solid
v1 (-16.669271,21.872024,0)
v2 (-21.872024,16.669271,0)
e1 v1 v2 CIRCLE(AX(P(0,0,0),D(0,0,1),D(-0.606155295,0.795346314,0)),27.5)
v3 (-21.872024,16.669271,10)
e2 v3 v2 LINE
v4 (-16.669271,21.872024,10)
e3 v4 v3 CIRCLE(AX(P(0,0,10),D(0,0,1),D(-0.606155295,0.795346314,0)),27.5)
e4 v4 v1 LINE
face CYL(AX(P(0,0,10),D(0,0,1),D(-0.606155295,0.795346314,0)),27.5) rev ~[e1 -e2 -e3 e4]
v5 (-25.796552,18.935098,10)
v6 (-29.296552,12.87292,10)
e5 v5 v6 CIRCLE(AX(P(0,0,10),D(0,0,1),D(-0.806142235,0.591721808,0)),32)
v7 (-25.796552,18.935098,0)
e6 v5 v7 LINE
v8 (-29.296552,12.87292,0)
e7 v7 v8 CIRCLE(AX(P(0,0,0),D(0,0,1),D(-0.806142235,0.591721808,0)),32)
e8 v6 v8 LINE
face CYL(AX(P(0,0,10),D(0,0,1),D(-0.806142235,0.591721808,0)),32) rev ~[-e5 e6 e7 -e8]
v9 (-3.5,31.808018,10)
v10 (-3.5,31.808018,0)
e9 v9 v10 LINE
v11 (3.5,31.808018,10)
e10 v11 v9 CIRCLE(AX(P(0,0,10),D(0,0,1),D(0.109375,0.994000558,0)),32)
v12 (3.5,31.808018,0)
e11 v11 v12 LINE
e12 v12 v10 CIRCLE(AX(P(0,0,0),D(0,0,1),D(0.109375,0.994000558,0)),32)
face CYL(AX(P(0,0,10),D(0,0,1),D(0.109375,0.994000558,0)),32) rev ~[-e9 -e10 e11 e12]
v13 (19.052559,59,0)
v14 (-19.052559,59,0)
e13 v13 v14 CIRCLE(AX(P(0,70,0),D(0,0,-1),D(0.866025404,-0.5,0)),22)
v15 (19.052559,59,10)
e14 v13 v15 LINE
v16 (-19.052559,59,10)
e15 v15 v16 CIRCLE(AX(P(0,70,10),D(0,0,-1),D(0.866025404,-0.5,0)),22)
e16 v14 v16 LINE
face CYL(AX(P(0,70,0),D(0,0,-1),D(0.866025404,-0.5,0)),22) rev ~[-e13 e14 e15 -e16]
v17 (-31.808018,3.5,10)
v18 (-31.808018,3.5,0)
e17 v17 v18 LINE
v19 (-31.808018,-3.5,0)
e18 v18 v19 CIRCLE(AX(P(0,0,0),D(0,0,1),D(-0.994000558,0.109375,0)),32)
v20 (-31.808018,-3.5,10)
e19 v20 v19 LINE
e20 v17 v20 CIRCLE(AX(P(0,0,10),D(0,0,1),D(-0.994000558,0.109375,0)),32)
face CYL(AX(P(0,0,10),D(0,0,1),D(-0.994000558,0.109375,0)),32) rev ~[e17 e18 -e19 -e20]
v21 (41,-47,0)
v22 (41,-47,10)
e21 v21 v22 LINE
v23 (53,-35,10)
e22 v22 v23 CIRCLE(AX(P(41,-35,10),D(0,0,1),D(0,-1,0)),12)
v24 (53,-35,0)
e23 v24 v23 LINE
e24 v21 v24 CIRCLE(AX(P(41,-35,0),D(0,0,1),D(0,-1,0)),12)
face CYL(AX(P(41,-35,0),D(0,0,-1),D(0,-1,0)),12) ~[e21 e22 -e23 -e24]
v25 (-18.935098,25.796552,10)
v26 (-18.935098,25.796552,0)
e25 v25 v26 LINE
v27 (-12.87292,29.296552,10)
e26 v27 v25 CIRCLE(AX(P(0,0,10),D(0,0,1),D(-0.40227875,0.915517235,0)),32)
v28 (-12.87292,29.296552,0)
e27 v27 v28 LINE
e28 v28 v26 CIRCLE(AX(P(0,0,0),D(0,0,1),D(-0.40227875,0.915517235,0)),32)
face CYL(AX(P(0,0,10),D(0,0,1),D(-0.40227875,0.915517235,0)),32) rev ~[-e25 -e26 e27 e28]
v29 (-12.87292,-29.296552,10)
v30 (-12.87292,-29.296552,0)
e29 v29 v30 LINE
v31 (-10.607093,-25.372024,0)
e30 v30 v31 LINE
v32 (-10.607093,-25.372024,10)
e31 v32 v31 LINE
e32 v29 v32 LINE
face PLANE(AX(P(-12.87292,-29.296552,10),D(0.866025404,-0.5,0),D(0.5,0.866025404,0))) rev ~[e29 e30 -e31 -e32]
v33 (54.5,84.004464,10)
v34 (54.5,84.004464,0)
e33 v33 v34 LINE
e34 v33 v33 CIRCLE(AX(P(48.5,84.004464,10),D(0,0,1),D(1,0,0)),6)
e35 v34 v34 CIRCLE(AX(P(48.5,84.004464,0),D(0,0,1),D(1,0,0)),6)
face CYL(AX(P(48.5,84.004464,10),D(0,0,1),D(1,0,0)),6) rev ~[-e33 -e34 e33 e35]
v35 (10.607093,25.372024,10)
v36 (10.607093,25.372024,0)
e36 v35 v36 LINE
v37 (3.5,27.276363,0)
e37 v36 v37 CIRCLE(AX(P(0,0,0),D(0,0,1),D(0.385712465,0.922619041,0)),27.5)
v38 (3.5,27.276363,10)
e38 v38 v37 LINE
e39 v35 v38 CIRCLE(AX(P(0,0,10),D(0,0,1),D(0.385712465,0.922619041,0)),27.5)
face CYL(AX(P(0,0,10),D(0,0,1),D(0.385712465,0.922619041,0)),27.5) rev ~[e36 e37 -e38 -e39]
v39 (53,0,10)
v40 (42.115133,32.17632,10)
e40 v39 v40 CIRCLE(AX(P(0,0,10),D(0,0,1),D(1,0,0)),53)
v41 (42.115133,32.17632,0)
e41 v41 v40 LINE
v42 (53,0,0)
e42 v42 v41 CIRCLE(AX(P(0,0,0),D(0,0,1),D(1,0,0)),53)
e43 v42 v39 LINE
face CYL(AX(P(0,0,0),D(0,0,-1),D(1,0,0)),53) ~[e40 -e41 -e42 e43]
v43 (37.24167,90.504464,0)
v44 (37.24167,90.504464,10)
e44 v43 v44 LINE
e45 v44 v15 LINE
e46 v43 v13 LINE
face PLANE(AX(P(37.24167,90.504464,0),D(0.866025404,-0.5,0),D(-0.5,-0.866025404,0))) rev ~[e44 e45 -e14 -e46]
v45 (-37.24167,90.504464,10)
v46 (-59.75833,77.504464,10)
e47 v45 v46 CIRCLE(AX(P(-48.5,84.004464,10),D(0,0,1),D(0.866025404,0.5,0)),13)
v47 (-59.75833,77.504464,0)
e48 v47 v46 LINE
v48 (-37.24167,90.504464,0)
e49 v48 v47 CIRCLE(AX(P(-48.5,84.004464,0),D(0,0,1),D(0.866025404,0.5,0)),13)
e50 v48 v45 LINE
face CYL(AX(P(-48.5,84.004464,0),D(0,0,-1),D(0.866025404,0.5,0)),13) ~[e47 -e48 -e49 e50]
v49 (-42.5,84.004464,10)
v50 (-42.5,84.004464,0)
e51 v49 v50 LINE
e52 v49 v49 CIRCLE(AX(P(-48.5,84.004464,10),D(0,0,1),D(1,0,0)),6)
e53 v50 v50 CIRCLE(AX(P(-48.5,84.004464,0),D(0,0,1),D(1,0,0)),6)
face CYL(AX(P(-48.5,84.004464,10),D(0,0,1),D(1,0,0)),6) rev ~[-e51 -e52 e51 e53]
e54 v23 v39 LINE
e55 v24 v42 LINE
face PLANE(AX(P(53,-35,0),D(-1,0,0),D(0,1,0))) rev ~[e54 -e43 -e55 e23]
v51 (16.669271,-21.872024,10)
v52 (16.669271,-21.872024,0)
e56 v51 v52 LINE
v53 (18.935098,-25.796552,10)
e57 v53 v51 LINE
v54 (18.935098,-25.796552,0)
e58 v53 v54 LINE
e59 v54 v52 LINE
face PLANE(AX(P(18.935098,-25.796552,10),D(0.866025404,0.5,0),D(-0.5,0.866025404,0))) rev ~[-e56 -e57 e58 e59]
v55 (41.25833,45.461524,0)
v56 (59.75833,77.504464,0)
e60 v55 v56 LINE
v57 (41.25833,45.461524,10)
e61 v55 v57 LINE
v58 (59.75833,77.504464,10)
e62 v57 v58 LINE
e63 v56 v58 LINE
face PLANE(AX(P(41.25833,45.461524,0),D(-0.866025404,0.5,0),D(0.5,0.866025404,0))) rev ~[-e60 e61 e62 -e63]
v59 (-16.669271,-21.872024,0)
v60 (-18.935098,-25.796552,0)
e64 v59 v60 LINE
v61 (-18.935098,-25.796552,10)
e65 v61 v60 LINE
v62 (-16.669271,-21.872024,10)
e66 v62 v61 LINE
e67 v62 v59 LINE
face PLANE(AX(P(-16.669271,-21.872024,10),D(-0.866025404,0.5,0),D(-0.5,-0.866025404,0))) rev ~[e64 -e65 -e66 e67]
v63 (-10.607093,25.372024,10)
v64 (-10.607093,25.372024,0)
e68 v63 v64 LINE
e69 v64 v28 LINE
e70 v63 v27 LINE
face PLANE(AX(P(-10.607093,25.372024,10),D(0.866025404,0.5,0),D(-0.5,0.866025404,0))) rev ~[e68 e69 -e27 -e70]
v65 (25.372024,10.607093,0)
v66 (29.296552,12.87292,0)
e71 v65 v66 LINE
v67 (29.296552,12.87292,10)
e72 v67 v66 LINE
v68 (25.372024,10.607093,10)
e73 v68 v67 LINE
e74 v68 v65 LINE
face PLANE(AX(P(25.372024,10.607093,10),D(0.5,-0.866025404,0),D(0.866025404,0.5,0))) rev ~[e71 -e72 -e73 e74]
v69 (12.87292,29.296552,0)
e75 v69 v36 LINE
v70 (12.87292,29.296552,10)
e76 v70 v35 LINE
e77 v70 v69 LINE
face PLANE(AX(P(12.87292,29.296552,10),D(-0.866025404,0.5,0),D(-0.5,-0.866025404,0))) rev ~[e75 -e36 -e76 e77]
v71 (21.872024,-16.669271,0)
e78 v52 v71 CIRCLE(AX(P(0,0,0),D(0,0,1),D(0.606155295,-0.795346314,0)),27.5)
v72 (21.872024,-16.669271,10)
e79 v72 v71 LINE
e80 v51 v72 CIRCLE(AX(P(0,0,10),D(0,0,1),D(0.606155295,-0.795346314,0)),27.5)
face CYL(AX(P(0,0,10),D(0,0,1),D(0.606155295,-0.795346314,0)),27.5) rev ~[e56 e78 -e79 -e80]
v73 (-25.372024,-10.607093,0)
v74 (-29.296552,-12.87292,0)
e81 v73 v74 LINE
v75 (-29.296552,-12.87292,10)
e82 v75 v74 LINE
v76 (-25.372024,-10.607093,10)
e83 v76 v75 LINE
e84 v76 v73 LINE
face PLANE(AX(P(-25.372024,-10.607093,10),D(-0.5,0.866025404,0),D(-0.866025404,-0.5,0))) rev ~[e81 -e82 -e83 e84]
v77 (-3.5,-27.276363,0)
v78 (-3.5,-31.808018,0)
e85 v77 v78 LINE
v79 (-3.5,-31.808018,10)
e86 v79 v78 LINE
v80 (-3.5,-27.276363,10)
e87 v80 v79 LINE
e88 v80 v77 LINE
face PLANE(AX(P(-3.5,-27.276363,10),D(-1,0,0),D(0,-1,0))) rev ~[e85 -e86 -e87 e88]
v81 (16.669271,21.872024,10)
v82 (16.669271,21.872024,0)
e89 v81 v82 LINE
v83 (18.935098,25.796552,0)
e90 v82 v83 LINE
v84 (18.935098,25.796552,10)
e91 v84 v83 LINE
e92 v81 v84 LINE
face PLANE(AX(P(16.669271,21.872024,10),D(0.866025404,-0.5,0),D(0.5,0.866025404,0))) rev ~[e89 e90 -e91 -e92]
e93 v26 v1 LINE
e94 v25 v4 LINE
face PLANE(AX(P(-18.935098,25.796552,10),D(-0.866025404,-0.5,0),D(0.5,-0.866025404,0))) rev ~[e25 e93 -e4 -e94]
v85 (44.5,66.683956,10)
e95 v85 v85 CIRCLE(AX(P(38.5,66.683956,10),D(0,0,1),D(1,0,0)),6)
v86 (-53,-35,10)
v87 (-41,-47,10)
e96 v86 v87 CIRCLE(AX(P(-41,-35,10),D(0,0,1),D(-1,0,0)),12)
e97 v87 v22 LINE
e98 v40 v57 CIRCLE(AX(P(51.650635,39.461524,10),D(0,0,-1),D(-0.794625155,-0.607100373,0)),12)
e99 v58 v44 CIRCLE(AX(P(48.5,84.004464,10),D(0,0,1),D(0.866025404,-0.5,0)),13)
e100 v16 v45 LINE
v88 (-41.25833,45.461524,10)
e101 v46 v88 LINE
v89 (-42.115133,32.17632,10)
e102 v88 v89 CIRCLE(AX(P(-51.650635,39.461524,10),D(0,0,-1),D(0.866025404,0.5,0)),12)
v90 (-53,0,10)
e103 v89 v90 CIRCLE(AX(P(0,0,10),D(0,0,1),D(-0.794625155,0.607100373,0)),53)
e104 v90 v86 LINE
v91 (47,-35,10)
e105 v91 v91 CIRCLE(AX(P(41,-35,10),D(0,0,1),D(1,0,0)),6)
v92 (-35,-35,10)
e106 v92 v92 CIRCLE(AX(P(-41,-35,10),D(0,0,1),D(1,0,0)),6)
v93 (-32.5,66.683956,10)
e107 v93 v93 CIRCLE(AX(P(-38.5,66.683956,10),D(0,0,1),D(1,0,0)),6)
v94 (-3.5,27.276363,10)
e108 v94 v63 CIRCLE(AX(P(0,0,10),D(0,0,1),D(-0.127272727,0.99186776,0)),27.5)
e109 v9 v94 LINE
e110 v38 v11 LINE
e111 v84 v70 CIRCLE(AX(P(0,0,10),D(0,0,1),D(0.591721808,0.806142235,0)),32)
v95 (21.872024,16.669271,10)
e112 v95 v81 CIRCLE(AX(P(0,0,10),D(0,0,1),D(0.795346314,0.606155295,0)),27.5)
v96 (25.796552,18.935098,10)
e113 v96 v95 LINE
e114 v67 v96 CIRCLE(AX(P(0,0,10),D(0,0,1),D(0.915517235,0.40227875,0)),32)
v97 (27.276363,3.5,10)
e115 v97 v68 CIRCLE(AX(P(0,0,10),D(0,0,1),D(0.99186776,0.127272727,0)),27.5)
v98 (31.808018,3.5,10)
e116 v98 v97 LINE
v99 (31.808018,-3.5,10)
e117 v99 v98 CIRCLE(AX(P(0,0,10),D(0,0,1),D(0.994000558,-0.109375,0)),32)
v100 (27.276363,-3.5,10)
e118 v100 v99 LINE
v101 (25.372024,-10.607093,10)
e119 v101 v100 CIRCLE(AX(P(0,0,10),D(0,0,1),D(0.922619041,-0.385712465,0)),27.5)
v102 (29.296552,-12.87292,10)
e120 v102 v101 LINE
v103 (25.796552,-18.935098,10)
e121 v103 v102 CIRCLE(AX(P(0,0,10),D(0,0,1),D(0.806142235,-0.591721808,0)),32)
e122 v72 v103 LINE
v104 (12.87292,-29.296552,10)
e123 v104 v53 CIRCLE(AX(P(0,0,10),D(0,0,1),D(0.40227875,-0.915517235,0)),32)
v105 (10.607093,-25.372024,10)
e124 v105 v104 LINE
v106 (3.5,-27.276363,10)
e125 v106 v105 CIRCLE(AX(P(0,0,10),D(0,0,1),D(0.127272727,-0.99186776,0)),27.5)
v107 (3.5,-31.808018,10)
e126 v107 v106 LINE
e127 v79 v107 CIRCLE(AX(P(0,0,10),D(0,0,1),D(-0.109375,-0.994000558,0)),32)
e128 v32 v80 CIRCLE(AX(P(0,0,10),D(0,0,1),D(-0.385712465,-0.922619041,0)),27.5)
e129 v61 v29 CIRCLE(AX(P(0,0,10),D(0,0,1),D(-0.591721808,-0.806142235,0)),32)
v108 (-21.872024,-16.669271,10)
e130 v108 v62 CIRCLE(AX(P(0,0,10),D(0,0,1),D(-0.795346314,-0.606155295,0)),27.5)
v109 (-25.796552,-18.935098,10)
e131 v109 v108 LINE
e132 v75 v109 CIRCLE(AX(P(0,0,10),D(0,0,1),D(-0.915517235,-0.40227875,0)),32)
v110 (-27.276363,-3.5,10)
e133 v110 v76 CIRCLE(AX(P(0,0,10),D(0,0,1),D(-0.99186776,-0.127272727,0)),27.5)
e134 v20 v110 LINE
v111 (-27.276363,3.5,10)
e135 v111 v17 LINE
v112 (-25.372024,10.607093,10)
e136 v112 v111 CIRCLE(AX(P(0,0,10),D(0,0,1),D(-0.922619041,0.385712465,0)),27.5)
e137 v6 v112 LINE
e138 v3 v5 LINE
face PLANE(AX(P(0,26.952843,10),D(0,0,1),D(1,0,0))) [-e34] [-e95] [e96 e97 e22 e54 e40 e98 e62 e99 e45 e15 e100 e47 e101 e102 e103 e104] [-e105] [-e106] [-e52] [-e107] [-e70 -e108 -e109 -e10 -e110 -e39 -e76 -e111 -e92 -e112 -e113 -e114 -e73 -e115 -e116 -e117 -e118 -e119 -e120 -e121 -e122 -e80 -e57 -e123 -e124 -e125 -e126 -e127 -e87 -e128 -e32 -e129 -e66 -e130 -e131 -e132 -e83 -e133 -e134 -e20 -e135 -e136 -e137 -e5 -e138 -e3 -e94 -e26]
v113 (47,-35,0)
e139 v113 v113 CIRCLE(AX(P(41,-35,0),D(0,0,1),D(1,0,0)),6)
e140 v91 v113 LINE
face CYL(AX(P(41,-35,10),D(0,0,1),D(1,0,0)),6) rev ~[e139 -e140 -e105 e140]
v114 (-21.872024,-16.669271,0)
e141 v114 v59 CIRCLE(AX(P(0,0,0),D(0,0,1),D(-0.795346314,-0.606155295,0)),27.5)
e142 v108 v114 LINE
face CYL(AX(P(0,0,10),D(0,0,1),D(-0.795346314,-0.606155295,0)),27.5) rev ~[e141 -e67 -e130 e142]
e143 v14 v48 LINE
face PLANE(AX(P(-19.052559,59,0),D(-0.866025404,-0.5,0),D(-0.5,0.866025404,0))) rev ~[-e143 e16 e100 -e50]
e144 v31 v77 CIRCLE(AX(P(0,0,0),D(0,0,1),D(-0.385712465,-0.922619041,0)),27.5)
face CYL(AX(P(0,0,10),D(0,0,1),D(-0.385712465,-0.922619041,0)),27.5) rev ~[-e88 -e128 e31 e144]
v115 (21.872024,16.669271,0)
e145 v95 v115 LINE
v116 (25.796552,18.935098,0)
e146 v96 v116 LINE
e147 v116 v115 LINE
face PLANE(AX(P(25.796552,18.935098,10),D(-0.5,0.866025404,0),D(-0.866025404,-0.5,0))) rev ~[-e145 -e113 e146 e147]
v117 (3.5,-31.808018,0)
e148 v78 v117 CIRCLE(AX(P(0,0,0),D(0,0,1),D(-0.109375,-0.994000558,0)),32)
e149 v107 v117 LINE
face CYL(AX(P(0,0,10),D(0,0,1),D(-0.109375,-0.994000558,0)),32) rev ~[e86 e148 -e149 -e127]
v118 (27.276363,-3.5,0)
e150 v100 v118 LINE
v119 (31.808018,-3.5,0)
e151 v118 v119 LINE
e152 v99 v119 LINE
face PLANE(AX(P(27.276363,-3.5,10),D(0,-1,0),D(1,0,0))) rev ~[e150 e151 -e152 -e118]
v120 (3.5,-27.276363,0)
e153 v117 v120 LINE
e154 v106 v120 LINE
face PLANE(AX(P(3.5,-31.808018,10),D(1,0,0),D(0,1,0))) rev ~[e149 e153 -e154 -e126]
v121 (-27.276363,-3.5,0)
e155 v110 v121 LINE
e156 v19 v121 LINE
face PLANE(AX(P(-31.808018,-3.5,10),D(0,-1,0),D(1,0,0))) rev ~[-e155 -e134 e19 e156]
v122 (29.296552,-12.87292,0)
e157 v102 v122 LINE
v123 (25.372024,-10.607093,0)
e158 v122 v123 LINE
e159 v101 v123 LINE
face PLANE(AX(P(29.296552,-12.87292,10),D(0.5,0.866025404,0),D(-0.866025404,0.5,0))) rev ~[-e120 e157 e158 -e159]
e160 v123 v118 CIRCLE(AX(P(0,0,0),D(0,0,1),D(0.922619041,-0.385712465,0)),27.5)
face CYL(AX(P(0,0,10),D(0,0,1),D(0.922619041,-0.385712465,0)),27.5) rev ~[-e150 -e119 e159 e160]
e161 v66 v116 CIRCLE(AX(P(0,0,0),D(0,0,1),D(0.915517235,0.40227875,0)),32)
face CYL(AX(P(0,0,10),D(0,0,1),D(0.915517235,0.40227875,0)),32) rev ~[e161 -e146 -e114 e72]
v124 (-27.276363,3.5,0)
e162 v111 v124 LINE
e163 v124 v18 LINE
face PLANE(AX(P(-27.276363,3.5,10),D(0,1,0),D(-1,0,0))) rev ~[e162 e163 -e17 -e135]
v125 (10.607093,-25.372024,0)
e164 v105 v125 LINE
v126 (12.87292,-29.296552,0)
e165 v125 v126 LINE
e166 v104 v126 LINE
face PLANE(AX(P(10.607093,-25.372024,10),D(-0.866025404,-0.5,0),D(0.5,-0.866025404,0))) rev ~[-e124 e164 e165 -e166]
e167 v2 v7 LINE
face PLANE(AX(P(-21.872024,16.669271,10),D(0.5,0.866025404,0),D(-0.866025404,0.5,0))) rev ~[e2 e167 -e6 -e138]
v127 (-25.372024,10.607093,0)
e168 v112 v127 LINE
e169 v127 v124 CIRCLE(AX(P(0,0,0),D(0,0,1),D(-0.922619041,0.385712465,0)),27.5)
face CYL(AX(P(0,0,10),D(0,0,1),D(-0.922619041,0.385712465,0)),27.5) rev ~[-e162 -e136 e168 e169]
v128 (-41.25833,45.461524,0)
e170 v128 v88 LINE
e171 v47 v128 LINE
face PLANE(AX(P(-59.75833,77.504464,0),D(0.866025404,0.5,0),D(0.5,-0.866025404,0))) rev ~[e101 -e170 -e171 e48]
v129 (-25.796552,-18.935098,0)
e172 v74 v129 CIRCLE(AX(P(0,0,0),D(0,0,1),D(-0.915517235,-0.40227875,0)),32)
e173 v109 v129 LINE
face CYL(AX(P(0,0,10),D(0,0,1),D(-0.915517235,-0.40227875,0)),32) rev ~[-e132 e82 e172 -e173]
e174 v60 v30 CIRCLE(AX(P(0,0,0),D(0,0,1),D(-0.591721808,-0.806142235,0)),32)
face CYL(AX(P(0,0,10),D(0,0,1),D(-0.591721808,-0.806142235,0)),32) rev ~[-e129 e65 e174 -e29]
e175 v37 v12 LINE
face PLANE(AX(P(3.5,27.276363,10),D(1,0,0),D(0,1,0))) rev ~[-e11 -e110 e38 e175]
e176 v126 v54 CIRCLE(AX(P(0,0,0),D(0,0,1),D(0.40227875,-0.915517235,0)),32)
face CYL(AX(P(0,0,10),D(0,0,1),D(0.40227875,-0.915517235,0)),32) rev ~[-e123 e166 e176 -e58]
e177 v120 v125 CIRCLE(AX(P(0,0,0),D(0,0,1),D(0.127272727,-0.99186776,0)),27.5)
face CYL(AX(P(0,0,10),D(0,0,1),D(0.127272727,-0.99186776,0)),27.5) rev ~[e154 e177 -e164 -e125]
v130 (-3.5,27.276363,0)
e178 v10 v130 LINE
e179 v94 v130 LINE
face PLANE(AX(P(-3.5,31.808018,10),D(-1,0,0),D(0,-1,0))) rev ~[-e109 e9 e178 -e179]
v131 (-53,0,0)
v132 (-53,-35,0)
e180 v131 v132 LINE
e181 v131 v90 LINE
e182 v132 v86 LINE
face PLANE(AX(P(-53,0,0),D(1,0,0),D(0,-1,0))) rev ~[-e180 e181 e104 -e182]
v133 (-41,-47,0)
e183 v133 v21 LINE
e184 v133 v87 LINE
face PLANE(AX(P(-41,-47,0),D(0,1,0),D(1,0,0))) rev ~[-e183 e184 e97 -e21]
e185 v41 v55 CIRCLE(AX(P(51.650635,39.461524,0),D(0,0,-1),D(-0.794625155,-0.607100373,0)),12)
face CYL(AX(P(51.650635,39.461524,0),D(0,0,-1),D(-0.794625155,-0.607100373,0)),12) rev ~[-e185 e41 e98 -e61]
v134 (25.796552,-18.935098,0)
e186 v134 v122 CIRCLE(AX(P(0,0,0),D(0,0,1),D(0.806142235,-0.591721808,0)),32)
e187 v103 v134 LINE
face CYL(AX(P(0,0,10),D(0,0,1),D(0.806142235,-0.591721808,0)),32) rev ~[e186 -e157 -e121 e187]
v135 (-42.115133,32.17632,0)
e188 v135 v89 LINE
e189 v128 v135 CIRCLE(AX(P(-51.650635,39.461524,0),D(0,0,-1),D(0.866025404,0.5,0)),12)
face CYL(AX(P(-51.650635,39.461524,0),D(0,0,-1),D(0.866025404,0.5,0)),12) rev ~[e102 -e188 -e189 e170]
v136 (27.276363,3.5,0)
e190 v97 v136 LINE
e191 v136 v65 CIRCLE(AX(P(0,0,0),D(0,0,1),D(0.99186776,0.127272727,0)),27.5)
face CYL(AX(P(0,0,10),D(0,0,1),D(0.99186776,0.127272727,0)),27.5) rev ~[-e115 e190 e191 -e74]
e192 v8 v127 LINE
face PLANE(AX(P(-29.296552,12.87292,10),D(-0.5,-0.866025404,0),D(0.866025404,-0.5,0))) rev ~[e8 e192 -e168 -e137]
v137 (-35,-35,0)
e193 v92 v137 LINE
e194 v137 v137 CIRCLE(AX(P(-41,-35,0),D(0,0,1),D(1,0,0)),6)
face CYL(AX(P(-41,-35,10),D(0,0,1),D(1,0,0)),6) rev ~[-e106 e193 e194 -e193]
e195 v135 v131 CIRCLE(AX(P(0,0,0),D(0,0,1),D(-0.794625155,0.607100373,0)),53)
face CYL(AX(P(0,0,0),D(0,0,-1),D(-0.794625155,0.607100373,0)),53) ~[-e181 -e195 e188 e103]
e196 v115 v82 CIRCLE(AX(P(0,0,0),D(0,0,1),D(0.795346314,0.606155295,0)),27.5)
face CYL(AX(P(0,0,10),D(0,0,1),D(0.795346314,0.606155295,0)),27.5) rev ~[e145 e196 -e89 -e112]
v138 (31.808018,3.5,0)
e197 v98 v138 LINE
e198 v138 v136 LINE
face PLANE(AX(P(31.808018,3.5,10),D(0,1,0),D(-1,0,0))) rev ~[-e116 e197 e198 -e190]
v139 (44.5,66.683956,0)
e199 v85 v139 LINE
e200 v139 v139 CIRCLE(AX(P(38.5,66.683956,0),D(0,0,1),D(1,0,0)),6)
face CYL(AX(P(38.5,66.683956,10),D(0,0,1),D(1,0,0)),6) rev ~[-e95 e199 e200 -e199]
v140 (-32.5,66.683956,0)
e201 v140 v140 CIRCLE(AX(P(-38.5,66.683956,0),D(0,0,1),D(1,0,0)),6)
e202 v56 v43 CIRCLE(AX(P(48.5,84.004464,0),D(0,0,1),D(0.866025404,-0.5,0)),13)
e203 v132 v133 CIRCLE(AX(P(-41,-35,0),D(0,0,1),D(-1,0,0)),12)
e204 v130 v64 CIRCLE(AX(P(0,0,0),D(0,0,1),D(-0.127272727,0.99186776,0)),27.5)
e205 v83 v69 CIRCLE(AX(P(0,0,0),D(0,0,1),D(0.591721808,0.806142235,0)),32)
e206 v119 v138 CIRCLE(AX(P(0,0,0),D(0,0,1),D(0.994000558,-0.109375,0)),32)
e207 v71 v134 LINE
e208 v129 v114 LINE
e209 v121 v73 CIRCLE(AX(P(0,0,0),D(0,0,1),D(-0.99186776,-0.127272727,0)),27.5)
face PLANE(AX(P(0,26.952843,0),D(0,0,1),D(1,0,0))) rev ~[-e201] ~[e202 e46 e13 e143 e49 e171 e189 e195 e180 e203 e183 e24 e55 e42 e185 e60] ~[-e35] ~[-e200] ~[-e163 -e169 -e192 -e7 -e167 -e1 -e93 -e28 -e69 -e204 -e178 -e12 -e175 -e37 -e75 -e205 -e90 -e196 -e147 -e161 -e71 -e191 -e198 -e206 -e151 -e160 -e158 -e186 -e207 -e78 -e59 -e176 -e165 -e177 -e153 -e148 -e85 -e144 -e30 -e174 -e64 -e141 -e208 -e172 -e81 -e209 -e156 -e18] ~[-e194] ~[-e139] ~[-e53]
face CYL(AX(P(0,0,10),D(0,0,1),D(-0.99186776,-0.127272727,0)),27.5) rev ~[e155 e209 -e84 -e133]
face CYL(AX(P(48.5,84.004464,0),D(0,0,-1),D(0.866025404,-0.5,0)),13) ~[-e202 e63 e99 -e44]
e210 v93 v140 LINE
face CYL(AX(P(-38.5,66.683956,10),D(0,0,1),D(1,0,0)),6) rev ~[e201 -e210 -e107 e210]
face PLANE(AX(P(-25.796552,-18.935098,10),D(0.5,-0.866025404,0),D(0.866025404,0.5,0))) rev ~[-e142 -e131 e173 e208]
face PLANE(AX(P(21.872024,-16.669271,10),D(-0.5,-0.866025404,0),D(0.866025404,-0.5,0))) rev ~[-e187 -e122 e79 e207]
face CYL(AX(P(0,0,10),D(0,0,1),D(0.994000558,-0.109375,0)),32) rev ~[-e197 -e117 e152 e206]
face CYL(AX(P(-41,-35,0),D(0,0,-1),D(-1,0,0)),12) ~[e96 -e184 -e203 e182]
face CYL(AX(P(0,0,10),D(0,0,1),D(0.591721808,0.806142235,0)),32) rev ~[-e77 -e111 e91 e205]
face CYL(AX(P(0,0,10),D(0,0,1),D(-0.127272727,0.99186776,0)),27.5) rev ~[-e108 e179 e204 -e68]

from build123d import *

# Parameters (mm, degrees)
SALIENTE_EXTRUIR1_DEPTH = 10
CROQUIS2_R              = 6
CORTAR_EXTRUIR3_DEPTH   = 116.291439701


with BuildPart() as part:
    # Croquis1 → Saliente-Extruir1 (new body)
    with BuildSketch(Plane.XY):
        with BuildLine():
            Line((-59.758330249, 77.504464167), (-41.258330249, 45.461524227))
            ThreePointArc((-41.258330249, 45.461524227), (-39.675513612, 38.689212456), (-42.115133231, 32.176319754))
            ThreePointArc((-42.115133231, 32.176319754), (-50.205089688, 16.983785484), (-53, 0))
            Line((-53, 0), (-53, -35))
            ThreePointArc((-53, -35), (-49.485281374, -43.485281374), (-41, -47))
            Line((-41, -47), (41, -47))
            ThreePointArc((41, -47), (49.485281374, -43.485281374), (53, -35))
            Line((53, -35), (53, 0))
            ThreePointArc((53, 0), (50.205089688, 16.983785484), (42.115133231, 32.176319754))
            ThreePointArc((42.115133231, 32.176319754), (39.675513612, 38.689212456), (41.258330249, 45.461524227))
            Line((41.258330249, 45.461524227), (59.758330249, 77.504464167))
            ThreePointArc((59.758330249, 77.504464167), (55, 95.262794416), (37.241669751, 90.504464167))
            Line((37.241669751, 90.504464167), (19.052558883, 59))
            ThreePointArc((19.052558883, 59), (0, 48), (-19.052558883, 59))
            Line((-19.052558883, 59), (-37.241669751, 90.504464167))
            ThreePointArc((-37.241669751, 90.504464167), (-55, 95.262794416), (-59.758330249, 77.504464167))
        make_face()
    extrude(amount=SALIENTE_EXTRUIR1_DEPTH)

    # Croquis2 → Cortar-Extruir3 (cut, through all)
    with BuildSketch(Plane.XY.offset(10)):
        with Locations((-41, -35)):
            Circle(CROQUIS2_R)
        with Locations((41, -35)):
            Circle(CROQUIS2_R)
        with Locations((-48.5, 84.004464167)):
            Circle(CROQUIS2_R)
        with Locations((48.5, 84.004464167)):
            Circle(CROQUIS2_R)
        with Locations((-38.5, 66.683956091)):
            Circle(CROQUIS2_R)
        with Locations((38.5, 66.683956091)):
            Circle(CROQUIS2_R)
        with BuildLine():
            Line((-3.5, 31.808017857), (-3.5, 27.276363394))
            ThreePointArc((-3.5, 27.276363394), (-7.11752374, 26.562960223), (-10.607092784, 25.372023622))
            Line((-10.607092784, 25.372023622), (-12.872920015, 29.296551508))
            ThreePointArc((-12.872920015, 29.296551508), (-16, 27.712812921), (-18.935097842, 25.796551508))
            Line((-18.935097842, 25.796551508), (-16.66927061, 21.872023622))
            ThreePointArc((-16.66927061, 21.872023622), (-19.445436483, 19.445436483), (-21.872023622, 16.66927061))
            Line((-21.872023622, 16.66927061), (-25.796551508, 18.935097842))
            ThreePointArc((-25.796551508, 18.935097842), (-27.712812921, 16), (-29.296551508, 12.872920015))
            Line((-29.296551508, 12.872920015), (-25.372023622, 10.607092784))
            ThreePointArc((-25.372023622, 10.607092784), (-26.562960223, 7.11752374), (-27.276363394, 3.5))
            Line((-27.276363394, 3.5), (-31.808017857, 3.5))
            ThreePointArc((-31.808017857, 3.5), (-32, 0), (-31.808017857, -3.5))
            Line((-31.808017857, -3.5), (-27.276363394, -3.5))
            ThreePointArc((-27.276363394, -3.5), (-26.562960223, -7.11752374), (-25.372023622, -10.607092784))
            Line((-25.372023622, -10.607092784), (-29.296551508, -12.872920015))
            ThreePointArc((-29.296551508, -12.872920015), (-27.712812921, -16), (-25.796551508, -18.935097842))
            Line((-25.796551508, -18.935097842), (-21.872023622, -16.66927061))
            ThreePointArc((-21.872023622, -16.66927061), (-19.445436483, -19.445436483), (-16.66927061, -21.872023622))
            Line((-16.66927061, -21.872023622), (-18.935097842, -25.796551508))
            ThreePointArc((-18.935097842, -25.796551508), (-16, -27.712812921), (-12.872920015, -29.296551508))
            Line((-12.872920015, -29.296551508), (-10.607092784, -25.372023622))
            ThreePointArc((-10.607092784, -25.372023622), (-7.11752374, -26.562960223), (-3.5, -27.276363394))
            Line((-3.5, -27.276363394), (-3.5, -31.808017857))
            ThreePointArc((-3.5, -31.808017857), (0, -32), (3.5, -31.808017857))
            Line((3.5, -31.808017857), (3.5, -27.276363394))
            ThreePointArc((3.5, -27.276363394), (7.11752374, -26.562960223), (10.607092784, -25.372023622))
            Line((10.607092784, -25.372023622), (12.872920015, -29.296551508))
            ThreePointArc((12.872920015, -29.296551508), (16, -27.712812921), (18.935097842, -25.796551508))
            Line((18.935097842, -25.796551508), (16.66927061, -21.872023622))
            ThreePointArc((16.66927061, -21.872023622), (19.445436483, -19.445436483), (21.872023622, -16.66927061))
            Line((21.872023622, -16.66927061), (25.796551508, -18.935097842))
            ThreePointArc((25.796551508, -18.935097842), (27.712812921, -16), (29.296551508, -12.872920015))
            Line((29.296551508, -12.872920015), (25.372023622, -10.607092784))
            ThreePointArc((25.372023622, -10.607092784), (26.562960223, -7.11752374), (27.276363394, -3.5))
            Line((27.276363394, -3.5), (31.808017857, -3.5))
            ThreePointArc((31.808017857, -3.5), (32, 0), (31.808017857, 3.5))
            Line((31.808017857, 3.5), (27.276363394, 3.5))
            ThreePointArc((27.276363394, 3.5), (26.562960223, 7.11752374), (25.372023622, 10.607092784))
            Line((25.372023622, 10.607092784), (29.296551508, 12.872920015))
            ThreePointArc((29.296551508, 12.872920015), (27.712812921, 16), (25.796551508, 18.935097842))
            Line((25.796551508, 18.935097842), (21.872023622, 16.66927061))
            ThreePointArc((21.872023622, 16.66927061), (19.445436483, 19.445436483), (16.66927061, 21.872023622))
            Line((16.66927061, 21.872023622), (18.935097842, 25.796551508))
            ThreePointArc((18.935097842, 25.796551508), (16, 27.712812921), (12.872920015, 29.296551508))
            Line((12.872920015, 29.296551508), (10.607092784, 25.372023622))
            ThreePointArc((10.607092784, 25.372023622), (7.11752374, 26.562960223), (3.5, 27.276363394))
            Line((3.5, 27.276363394), (3.5, 31.808017857))
            ThreePointArc((3.5, 31.808017857), (0, 32), (-3.5, 31.808017857))
        make_face()
    extrude(amount=-CORTAR_EXTRUIR3_DEPTH, mode=Mode.SUBTRACT)


solid = part.part
